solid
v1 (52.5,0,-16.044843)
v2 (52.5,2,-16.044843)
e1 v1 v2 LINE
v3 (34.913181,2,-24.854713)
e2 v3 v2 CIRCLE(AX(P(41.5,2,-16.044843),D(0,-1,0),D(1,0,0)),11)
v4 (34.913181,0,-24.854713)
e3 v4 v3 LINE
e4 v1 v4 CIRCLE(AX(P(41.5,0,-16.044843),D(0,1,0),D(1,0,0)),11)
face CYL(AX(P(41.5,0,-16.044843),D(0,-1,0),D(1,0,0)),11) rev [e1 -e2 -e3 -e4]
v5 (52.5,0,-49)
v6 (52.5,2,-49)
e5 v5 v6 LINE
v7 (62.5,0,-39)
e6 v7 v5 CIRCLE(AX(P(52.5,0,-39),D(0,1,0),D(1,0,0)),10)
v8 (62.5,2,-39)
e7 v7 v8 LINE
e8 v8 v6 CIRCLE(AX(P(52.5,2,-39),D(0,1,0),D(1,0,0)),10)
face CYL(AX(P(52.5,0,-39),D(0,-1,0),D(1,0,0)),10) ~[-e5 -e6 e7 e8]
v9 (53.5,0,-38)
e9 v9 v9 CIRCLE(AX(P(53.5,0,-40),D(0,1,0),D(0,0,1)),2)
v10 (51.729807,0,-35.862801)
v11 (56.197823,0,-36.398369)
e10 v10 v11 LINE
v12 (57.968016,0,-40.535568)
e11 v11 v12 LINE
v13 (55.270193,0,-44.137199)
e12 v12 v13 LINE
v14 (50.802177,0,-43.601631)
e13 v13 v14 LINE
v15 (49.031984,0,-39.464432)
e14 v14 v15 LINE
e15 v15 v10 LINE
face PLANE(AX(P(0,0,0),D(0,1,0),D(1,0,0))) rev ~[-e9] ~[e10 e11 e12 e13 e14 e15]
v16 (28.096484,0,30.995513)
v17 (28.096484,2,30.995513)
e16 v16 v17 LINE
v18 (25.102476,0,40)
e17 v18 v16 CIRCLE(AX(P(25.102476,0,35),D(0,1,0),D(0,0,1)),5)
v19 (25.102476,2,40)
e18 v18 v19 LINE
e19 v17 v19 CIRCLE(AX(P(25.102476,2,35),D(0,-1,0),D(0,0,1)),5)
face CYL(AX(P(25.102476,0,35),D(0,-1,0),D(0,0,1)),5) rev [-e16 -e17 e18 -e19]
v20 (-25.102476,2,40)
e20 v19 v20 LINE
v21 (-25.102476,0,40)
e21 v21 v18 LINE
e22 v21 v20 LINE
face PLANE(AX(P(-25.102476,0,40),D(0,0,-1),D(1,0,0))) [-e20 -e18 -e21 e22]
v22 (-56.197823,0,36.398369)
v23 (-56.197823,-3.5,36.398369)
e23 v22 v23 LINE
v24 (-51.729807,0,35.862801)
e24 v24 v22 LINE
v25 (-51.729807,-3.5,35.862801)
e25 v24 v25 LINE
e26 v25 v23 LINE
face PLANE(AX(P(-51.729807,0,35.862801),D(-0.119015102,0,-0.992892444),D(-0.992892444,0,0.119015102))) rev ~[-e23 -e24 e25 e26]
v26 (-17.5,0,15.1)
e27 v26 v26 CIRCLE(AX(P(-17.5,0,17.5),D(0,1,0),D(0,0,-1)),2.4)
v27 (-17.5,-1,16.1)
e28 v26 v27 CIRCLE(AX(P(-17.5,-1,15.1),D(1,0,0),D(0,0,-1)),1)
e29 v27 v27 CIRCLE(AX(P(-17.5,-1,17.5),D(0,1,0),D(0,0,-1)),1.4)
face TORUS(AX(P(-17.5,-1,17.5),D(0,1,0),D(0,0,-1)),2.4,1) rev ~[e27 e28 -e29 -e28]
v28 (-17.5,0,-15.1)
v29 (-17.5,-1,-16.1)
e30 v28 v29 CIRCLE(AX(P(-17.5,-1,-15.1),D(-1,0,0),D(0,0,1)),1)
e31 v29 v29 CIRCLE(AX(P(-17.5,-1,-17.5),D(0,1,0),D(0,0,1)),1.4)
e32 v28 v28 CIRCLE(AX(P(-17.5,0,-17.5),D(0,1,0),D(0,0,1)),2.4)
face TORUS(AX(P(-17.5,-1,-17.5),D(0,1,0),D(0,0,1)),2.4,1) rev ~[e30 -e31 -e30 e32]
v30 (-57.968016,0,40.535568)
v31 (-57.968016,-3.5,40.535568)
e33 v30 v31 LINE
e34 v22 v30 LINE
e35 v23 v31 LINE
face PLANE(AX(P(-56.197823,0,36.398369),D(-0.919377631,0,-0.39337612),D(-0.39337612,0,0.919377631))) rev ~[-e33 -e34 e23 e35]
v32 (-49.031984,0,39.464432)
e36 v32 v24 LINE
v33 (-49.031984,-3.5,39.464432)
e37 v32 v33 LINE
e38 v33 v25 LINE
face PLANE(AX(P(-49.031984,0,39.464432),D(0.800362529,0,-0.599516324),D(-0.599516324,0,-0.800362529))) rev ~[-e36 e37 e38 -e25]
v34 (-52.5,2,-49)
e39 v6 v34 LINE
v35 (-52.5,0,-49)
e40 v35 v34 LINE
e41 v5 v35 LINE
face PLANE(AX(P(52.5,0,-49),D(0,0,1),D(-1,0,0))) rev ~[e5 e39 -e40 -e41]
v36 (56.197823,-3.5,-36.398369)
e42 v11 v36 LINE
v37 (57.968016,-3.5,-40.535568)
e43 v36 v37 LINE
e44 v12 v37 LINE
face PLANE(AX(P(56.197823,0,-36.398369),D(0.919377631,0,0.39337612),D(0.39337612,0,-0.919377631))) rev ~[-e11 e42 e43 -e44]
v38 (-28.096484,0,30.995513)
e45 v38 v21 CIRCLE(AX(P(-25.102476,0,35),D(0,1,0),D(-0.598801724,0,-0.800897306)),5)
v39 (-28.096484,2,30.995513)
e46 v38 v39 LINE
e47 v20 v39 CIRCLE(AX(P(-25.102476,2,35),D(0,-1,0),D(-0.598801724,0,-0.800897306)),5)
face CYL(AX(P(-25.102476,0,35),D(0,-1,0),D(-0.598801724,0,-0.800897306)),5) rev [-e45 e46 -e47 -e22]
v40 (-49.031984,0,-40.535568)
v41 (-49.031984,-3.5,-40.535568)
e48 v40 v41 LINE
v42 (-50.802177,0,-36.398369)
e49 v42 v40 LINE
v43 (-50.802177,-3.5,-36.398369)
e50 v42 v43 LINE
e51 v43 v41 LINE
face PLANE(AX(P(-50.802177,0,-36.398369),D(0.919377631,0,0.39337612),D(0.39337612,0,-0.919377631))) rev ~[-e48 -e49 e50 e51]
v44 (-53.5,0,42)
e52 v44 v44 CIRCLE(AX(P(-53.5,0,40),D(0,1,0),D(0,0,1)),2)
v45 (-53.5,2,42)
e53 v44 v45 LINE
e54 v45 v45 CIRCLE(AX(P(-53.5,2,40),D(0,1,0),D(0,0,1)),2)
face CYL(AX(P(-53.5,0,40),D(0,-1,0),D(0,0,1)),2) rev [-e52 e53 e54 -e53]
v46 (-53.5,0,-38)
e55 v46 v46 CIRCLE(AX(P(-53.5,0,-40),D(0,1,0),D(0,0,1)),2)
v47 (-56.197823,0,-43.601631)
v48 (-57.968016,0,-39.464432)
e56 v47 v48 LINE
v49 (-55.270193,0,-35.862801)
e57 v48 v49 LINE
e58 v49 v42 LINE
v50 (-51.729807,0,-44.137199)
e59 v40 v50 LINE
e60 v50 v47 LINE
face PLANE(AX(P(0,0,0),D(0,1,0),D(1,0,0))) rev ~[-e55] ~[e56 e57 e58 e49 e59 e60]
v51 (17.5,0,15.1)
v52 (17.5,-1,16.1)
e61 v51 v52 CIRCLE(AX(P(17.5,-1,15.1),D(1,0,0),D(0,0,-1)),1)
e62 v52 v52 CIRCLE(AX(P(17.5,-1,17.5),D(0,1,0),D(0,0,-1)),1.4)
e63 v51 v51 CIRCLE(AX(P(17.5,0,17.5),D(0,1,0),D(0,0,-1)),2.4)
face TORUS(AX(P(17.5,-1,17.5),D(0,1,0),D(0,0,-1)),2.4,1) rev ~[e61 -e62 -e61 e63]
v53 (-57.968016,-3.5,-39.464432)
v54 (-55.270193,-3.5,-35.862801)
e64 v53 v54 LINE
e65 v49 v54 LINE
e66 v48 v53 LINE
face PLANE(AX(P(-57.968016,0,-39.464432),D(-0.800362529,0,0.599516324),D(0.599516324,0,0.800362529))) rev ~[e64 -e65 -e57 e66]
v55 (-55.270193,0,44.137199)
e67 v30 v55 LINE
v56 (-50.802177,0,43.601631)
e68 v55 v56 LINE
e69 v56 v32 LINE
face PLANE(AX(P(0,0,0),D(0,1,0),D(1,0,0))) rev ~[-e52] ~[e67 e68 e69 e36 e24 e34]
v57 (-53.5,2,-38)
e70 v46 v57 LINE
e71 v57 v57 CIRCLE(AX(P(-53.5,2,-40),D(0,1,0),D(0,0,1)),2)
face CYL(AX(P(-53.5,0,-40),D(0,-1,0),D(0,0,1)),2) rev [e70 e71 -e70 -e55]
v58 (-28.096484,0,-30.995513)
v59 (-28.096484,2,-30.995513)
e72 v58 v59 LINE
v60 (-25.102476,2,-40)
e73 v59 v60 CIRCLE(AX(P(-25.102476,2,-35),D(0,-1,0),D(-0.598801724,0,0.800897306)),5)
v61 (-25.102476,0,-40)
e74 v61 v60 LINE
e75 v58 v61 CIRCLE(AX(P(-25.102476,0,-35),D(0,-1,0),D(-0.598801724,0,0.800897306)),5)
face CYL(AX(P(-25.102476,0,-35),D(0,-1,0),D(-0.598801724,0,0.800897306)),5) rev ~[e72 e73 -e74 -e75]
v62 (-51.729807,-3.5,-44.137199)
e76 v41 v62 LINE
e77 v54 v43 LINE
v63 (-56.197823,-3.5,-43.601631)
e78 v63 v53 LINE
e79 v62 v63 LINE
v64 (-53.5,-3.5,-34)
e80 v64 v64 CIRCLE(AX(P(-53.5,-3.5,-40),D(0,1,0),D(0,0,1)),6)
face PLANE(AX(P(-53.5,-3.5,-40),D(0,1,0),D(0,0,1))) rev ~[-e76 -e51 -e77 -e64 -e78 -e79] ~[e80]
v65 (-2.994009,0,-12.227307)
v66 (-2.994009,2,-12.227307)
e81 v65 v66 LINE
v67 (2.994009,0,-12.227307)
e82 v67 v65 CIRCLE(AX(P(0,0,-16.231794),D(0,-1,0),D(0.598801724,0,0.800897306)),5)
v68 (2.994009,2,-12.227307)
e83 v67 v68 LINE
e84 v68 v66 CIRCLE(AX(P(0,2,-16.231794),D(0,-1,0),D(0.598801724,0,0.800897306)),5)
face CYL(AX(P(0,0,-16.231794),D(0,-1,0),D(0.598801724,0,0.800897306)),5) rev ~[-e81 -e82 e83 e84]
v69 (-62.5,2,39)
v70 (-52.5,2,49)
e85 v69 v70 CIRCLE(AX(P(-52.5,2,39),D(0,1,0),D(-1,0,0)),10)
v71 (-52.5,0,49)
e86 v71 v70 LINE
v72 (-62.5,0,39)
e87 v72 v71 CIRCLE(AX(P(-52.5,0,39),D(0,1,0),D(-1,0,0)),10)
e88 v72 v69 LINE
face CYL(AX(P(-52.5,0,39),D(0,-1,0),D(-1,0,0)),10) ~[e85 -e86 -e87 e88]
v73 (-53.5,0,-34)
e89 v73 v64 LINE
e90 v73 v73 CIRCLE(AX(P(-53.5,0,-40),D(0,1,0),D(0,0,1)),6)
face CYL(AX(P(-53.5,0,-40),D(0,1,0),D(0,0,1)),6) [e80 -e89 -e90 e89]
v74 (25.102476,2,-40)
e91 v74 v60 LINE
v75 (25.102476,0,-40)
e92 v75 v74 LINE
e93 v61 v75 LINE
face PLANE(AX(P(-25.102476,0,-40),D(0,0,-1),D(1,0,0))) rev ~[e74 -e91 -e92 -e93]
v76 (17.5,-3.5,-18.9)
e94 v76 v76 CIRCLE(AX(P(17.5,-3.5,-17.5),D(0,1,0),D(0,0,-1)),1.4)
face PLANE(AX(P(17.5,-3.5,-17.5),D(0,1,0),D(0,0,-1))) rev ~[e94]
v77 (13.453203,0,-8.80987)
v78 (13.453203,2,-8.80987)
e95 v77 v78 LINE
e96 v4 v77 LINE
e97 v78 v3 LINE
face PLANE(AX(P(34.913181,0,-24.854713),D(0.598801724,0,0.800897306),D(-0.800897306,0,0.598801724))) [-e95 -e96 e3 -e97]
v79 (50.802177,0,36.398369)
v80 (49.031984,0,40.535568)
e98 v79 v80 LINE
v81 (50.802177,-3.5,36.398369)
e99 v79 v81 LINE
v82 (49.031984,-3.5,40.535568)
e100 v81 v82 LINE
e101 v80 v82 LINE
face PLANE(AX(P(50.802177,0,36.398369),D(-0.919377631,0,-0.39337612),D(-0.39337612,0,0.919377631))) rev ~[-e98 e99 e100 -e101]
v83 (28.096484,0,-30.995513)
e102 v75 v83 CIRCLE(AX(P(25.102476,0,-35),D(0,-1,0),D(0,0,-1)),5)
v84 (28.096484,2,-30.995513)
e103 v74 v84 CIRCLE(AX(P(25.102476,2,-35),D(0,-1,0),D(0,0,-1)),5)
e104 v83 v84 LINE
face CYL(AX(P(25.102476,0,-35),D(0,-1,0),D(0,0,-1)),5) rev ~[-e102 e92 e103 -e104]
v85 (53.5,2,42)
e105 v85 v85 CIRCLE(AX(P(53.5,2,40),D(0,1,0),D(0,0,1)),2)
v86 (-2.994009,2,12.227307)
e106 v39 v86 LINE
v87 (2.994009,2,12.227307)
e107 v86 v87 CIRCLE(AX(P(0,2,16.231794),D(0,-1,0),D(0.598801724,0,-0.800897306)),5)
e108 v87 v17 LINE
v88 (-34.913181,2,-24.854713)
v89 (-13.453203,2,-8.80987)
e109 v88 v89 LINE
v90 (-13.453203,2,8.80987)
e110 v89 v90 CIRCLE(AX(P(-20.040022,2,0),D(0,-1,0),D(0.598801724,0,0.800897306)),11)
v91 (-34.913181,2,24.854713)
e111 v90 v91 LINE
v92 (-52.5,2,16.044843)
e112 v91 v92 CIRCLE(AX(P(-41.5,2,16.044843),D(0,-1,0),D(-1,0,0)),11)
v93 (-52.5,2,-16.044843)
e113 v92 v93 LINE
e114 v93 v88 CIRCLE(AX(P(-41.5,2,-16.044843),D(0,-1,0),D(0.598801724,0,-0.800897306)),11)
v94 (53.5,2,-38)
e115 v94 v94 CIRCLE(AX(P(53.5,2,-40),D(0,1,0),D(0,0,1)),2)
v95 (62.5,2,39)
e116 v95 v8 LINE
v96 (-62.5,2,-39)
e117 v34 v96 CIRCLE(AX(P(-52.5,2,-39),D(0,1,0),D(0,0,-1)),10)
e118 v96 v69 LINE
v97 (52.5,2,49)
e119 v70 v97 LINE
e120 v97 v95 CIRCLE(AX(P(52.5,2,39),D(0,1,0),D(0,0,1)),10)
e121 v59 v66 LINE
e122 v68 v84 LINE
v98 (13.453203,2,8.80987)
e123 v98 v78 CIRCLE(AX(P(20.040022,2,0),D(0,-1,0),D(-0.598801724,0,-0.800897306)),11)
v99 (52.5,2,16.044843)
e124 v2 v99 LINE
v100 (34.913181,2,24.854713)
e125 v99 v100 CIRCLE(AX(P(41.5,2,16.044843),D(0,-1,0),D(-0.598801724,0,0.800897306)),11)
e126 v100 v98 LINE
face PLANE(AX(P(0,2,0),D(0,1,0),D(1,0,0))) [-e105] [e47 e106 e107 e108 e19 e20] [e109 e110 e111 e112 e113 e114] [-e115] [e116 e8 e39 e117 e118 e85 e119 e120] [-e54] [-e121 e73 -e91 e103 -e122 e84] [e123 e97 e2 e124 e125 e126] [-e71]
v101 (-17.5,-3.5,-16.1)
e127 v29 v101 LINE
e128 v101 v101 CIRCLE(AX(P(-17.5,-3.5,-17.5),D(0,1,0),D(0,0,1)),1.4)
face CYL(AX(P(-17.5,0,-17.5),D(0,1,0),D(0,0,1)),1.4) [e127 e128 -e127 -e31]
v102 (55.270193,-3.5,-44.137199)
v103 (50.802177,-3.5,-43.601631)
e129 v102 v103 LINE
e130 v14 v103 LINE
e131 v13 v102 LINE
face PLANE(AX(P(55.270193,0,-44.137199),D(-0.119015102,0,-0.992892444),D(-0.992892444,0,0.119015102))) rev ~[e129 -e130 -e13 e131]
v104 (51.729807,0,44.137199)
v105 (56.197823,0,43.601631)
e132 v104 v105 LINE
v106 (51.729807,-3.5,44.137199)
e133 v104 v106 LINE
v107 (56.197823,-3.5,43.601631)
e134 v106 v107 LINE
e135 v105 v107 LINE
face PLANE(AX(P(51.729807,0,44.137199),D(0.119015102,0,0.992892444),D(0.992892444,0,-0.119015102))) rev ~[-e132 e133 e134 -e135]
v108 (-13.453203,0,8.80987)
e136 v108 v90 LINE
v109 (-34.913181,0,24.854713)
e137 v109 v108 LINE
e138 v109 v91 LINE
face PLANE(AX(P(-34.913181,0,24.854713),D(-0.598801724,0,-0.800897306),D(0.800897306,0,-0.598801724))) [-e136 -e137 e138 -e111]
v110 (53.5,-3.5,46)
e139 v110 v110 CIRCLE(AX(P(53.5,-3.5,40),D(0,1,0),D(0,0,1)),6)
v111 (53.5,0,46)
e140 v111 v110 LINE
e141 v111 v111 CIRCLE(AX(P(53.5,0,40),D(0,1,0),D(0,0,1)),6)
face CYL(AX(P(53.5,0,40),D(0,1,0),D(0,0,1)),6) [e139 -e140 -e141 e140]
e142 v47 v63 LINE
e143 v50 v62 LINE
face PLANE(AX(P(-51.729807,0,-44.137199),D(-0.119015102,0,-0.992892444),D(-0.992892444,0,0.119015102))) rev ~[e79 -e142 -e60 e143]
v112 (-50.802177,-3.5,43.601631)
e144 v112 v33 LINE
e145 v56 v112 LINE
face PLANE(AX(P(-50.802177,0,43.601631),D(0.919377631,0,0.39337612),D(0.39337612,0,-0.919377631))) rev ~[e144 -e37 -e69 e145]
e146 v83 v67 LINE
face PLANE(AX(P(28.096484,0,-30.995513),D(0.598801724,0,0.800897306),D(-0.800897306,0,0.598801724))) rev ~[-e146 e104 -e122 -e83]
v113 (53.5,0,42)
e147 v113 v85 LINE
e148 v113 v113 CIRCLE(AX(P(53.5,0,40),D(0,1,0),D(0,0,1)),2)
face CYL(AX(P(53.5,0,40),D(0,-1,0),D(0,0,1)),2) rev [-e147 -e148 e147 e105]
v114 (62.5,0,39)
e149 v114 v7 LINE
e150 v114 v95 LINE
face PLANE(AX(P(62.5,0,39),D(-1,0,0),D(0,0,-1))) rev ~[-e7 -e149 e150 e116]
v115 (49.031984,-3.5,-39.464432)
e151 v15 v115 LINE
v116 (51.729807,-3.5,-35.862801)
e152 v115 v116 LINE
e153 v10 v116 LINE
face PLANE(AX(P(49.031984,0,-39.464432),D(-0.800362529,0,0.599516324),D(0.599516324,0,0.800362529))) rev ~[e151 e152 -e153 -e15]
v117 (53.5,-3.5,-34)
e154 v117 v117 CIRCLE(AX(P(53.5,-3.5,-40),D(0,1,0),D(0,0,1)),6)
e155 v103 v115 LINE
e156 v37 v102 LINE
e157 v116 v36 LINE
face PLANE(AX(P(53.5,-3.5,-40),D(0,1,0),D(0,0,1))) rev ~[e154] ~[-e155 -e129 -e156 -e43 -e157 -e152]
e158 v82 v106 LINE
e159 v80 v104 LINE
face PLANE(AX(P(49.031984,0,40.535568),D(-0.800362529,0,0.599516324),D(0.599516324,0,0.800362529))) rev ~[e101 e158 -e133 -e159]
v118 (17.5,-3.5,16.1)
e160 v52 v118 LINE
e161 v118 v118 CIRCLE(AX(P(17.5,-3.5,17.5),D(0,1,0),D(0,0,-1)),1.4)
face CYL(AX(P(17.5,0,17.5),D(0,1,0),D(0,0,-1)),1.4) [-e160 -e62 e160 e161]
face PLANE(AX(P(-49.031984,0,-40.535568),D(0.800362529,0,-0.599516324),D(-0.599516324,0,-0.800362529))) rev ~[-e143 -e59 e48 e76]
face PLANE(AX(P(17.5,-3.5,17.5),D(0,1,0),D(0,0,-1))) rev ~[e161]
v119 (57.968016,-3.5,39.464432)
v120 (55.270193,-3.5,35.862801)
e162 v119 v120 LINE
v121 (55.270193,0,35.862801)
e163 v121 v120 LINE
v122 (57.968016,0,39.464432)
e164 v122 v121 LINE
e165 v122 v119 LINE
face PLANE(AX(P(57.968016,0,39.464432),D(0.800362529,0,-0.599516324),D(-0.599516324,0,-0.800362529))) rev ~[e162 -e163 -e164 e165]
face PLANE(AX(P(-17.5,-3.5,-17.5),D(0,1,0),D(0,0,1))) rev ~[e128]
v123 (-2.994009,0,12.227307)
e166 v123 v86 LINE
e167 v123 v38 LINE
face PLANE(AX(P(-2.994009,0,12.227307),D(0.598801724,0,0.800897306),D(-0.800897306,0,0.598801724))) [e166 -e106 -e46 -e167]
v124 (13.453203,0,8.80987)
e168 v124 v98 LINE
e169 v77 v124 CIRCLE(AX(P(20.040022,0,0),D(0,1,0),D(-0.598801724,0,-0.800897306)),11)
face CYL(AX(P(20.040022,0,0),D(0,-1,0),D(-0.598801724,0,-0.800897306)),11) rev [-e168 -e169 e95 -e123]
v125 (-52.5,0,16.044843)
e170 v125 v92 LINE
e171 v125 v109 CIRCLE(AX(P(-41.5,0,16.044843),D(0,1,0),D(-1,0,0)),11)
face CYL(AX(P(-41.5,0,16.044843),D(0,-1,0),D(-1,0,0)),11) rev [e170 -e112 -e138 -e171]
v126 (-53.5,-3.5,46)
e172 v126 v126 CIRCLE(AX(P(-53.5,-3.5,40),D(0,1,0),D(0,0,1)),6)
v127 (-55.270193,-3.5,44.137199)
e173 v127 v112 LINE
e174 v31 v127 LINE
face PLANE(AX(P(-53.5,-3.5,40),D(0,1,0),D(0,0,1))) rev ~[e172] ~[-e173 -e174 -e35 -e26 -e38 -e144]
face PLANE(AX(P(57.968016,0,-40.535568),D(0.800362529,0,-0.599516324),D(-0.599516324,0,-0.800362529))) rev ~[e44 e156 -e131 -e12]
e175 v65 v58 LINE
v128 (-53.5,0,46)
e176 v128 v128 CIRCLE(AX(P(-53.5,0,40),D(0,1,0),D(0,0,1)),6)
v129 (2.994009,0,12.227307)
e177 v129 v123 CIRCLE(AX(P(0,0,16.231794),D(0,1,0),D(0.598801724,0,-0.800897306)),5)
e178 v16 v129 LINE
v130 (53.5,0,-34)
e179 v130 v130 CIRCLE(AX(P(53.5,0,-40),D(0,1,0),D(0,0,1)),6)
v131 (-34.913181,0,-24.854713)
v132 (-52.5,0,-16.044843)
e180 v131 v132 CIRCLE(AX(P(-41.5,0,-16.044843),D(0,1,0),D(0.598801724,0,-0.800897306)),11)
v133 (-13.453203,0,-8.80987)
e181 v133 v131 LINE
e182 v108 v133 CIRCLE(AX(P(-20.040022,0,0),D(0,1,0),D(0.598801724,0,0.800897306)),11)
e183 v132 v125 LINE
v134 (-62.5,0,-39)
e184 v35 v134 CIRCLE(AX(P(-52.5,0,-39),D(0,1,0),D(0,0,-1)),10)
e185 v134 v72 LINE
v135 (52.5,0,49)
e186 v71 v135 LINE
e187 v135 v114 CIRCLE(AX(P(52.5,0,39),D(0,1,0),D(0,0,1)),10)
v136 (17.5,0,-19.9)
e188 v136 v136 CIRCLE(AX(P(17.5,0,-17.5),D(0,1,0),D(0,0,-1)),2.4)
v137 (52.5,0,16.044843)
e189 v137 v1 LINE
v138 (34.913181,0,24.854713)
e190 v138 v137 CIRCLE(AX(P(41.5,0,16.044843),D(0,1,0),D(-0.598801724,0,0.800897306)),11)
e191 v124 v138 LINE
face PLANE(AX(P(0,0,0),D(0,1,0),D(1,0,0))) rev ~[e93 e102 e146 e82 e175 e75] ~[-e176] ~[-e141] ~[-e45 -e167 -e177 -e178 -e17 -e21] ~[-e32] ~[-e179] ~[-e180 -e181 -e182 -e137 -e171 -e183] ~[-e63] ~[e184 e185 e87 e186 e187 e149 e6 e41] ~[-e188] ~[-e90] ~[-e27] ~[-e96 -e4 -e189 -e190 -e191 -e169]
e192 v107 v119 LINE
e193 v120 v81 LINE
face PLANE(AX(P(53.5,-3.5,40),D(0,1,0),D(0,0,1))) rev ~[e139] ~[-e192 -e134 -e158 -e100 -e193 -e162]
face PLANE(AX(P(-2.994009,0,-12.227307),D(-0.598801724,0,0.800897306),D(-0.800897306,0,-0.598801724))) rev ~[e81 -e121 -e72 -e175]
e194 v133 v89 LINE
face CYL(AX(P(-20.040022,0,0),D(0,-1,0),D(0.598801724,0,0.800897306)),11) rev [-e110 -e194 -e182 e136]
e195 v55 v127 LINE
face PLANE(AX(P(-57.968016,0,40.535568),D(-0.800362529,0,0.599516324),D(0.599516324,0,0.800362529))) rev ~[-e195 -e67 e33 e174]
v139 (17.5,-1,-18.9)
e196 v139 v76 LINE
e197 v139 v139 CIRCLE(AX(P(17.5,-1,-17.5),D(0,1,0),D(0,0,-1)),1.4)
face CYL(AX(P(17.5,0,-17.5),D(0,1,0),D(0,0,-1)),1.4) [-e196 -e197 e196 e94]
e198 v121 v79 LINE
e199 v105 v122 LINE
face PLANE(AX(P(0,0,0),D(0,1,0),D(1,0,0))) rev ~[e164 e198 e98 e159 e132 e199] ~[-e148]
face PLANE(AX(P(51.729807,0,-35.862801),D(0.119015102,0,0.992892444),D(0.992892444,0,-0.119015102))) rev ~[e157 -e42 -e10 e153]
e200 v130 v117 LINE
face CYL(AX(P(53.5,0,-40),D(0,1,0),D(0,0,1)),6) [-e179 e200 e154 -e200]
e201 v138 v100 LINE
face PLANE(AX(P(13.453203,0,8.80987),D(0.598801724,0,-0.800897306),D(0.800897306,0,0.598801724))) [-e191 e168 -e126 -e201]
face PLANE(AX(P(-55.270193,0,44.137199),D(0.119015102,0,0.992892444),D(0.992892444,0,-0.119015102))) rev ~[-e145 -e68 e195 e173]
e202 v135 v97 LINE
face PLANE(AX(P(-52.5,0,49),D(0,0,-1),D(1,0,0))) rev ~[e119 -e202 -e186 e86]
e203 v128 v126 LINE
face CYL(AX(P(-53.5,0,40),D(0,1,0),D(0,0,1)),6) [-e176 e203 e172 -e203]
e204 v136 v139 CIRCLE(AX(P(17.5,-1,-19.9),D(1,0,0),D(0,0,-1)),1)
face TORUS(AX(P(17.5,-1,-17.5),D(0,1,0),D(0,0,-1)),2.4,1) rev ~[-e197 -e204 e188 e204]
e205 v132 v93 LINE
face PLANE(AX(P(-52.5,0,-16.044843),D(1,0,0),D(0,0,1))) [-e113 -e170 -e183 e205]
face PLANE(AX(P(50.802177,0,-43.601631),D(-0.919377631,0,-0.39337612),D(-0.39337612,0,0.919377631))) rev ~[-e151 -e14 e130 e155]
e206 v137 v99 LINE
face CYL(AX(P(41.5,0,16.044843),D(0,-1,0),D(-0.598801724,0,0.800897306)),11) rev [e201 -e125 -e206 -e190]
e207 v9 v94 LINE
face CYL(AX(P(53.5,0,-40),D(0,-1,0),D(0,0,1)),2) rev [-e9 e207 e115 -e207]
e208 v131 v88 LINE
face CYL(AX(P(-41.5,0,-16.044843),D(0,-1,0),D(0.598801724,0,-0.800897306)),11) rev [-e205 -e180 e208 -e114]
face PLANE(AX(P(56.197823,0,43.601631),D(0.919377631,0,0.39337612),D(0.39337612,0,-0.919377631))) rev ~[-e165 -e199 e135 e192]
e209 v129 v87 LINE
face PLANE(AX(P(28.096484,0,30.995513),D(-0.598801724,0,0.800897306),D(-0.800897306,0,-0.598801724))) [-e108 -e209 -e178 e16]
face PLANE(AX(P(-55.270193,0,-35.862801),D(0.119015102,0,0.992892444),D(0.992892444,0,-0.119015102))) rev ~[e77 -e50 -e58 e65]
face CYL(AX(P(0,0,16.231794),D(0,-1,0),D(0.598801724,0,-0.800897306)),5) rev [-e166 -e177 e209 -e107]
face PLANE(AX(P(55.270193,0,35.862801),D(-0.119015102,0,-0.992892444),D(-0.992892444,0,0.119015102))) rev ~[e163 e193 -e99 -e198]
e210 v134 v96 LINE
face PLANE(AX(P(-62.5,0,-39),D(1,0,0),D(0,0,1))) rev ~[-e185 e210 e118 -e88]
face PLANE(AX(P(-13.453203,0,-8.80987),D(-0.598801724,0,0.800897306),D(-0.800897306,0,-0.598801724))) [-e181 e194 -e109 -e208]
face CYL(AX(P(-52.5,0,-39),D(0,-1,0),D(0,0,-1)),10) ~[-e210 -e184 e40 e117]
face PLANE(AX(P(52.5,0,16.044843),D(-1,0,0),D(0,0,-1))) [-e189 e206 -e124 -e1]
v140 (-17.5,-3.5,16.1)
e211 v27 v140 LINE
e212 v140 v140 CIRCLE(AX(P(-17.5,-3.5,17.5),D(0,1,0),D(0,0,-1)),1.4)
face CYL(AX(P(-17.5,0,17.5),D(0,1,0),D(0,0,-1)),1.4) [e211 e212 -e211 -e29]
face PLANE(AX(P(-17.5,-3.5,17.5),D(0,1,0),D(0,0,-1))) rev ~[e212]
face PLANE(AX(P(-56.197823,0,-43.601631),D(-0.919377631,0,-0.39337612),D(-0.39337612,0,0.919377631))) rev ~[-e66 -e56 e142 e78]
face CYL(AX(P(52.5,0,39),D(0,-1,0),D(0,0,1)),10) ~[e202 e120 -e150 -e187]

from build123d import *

# Parameters (mm, degrees)
SKETCH1_R           = 6
SKETCH1_R_2         = 2
BOSS_EXTRUDE1_DEPTH = 2
SKETCH1_3_R         = 6
BOSS_EXTRUDE2_DEPTH = 3.5
CUT_EXTRUDE2_DEPTH  = 10
SKETCH2_R           = 1.4
BOSS_EXTRUDE4_DEPTH = 3.5
FILLET3_R           = 1


with BuildPart() as part:
    # Sketch1 → Boss-Extrude1 (new body)
    # profile 1 of 9: a face of its own
    with BuildSketch(Plane(origin=(0, 0, 0), x_dir=(1, 0, 0), z_dir=(0, 1, 0))):
        with BuildLine():
            ThreePointArc((-62.5, 39), (-59.571067812, 46.071067812), (-52.5, 49))
            Line((-52.5, 49), (52.5, 49))
            ThreePointArc((52.5, 49), (59.571067812, 46.071067812), (62.5, 39))
            Line((62.5, 39), (62.5, -39))
            ThreePointArc((62.5, -39), (59.571067812, -46.071067812), (52.5, -49))
            Line((52.5, -49), (-52.5, -49))
            ThreePointArc((-52.5, -49), (-59.571067812, -46.071067812), (-62.5, -39))
            Line((-62.5, -39), (-62.5, 39))
        make_face()
        with Locations((-53.5, -40)):
            Circle(SKETCH1_R, mode=Mode.SUBTRACT)
        with Locations((53.5, -40)):
            Circle(SKETCH1_R, mode=Mode.SUBTRACT)
        with Locations((-53.5, 40)):
            Circle(SKETCH1_R, mode=Mode.SUBTRACT)
        with Locations((53.5, 40)):
            Circle(SKETCH1_R, mode=Mode.SUBTRACT)
    # profile 2 of 9: a face of its own
    with BuildSketch(Plane(origin=(0, 0, 0), x_dir=(1, 0, 0), z_dir=(0, 1, 0))):
        with Locations((53.5, 40)):
            Circle(SKETCH1_R)
        Polygon((56.197823457, 36.398368621), (57.968015998, 40.535567959), (55.270192541, 44.137199339), (50.802176543, 43.601631379), (49.031984002, 39.464432041), (51.729807459, 35.862800661), align=None, mode=Mode.SUBTRACT)
    # profile 3 of 9: a face of its own
    with BuildSketch(Plane(origin=(0, 0, 0), x_dir=(1, 0, 0), z_dir=(0, 1, 0))):
        Polygon((51.729807459, 35.862800661), (56.197823457, 36.398368621), (57.968015998, 40.535567959), (55.270192541, 44.137199339), (50.802176543, 43.601631379), (49.031984002, 39.464432041), align=None)
        with Locations((53.5, 40)):
            Circle(SKETCH1_R_2, mode=Mode.SUBTRACT)
    # profile 4 of 9: a face of its own
    with BuildSketch(Plane(origin=(0, 0, 0), x_dir=(1, 0, 0), z_dir=(0, 1, 0))):
        with Locations((53.5, -40)):
            Circle(SKETCH1_R)
        Polygon((56.197823457, -43.601631379), (57.968015998, -39.464432041), (55.270192541, -35.862800661), (50.802176543, -36.398368621), (49.031984002, -40.535567959), (51.729807459, -44.137199339), align=None, mode=Mode.SUBTRACT)
    # profile 5 of 9: a face of its own
    with BuildSketch(Plane(origin=(0, 0, 0), x_dir=(1, 0, 0), z_dir=(0, 1, 0))):
        Polygon((51.729807459, -44.137199339), (56.197823457, -43.601631379), (57.968015998, -39.464432041), (55.270192541, -35.862800661), (50.802176543, -36.398368621), (49.031984002, -40.535567959), align=None)
        with Locations((53.5, -40)):
            Circle(SKETCH1_R_2, mode=Mode.SUBTRACT)
    # profile 6 of 9: a face of its own
    with BuildSketch(Plane(origin=(0, 0, 0), x_dir=(1, 0, 0), z_dir=(0, 1, 0))):
        with Locations((-53.5, -40)):
            Circle(SKETCH1_R)
        Polygon((-50.802176543, -43.601631379), (-49.031984002, -39.464432041), (-51.729807459, -35.862800661), (-56.197823457, -36.398368621), (-57.968015998, -40.535567959), (-55.270192541, -44.137199339), align=None, mode=Mode.SUBTRACT)
    # profile 7 of 9: a face of its own
    with BuildSketch(Plane(origin=(0, 0, 0), x_dir=(1, 0, 0), z_dir=(0, 1, 0))):
        Polygon((-55.270192541, -44.137199339), (-50.802176543, -43.601631379), (-49.031984002, -39.464432041), (-51.729807459, -35.862800661), (-56.197823457, -36.398368621), (-57.968015998, -40.535567959), align=None)
        with Locations((-53.5, -40)):
            Circle(SKETCH1_R_2, mode=Mode.SUBTRACT)
    # profile 8 of 9: a face of its own
    with BuildSketch(Plane(origin=(0, 0, 0), x_dir=(1, 0, 0), z_dir=(0, 1, 0))):
        with Locations((-53.5, 40)):
            Circle(SKETCH1_R)
        Polygon((-50.802176543, 36.398368621), (-49.031984002, 40.535567959), (-51.729807459, 44.137199339), (-56.197823457, 43.601631379), (-57.968015998, 39.464432041), (-55.270192541, 35.862800661), align=None, mode=Mode.SUBTRACT)
    # profile 9 of 9: a face of its own
    with BuildSketch(Plane(origin=(0, 0, 0), x_dir=(1, 0, 0), z_dir=(0, 1, 0))):
        Polygon((-55.270192541, 35.862800661), (-50.802176543, 36.398368621), (-49.031984002, 40.535567959), (-51.729807459, 44.137199339), (-56.197823457, 43.601631379), (-57.968015998, 39.464432041), align=None)
        with Locations((-53.5, 40)):
            Circle(SKETCH1_R_2, mode=Mode.SUBTRACT)
    extrude(amount=BOSS_EXTRUDE1_DEPTH)

    # Sketch1<3> → Boss-Extrude2 (add)
    # profile 1 of 4: a face of its own
    with BuildSketch(Plane(origin=(0, 0, 0), x_dir=(1, 0, 0), z_dir=(0, 1, 0))):
        with Locations((-53.5, 40)):
            Circle(SKETCH1_3_R)
        Polygon((-50.802176543, 36.398368621), (-49.031984002, 40.535567959), (-51.729807459, 44.137199339), (-56.197823457, 43.601631379), (-57.968015998, 39.464432041), (-55.270192541, 35.862800661), align=None, mode=Mode.SUBTRACT)
    # profile 2 of 4: a face of its own
    with BuildSketch(Plane(origin=(0, 0, 0), x_dir=(1, 0, 0), z_dir=(0, 1, 0))):
        with Locations((53.5, 40)):
            Circle(SKETCH1_3_R)
        Polygon((56.197823457, 36.398368621), (57.968015998, 40.535567959), (55.270192541, 44.137199339), (50.802176543, 43.601631379), (49.031984002, 39.464432041), (51.729807459, 35.862800661), align=None, mode=Mode.SUBTRACT)
    # profile 3 of 4: a face of its own
    with BuildSketch(Plane(origin=(0, 0, 0), x_dir=(1, 0, 0), z_dir=(0, 1, 0))):
        with Locations((53.5, -40)):
            Circle(SKETCH1_3_R)
        Polygon((56.197823457, -43.601631379), (57.968015998, -39.464432041), (55.270192541, -35.862800661), (50.802176543, -36.398368621), (49.031984002, -40.535567959), (51.729807459, -44.137199339), align=None, mode=Mode.SUBTRACT)
    # profile 4 of 4: a face of its own
    with BuildSketch(Plane(origin=(0, 0, 0), x_dir=(1, 0, 0), z_dir=(0, 1, 0))):
        with Locations((-53.5, -40)):
            Circle(SKETCH1_3_R)
        Polygon((-50.802176543, -43.601631379), (-49.031984002, -39.464432041), (-51.729807459, -35.862800661), (-56.197823457, -36.398368621), (-57.968015998, -40.535567959), (-55.270192541, -44.137199339), align=None, mode=Mode.SUBTRACT)
    extrude(amount=-BOSS_EXTRUDE2_DEPTH)

    # Sketch2<4> → Cut-Extrude2 (cut)
    with BuildSketch(Plane(origin=(0, 0, 0), x_dir=(1, 0, 0), z_dir=(0, 1, 0))):
        with BuildLine():
            ThreePointArc((13.453203488, 8.809870368), (9.040022455, 0), (13.453203488, -8.809870368))
            Line((13.453203488, -8.809870368), (34.913181033, -24.854713392))
            ThreePointArc((34.913181033, -24.854713392), (46.426712462, -25.879857224), (52.5, -16.044843024))
            Line((52.5, -16.044843024), (52.5, 16.044843024))
            ThreePointArc((52.5, 16.044843024), (46.426712462, 25.879857224), (34.913181033, 24.854713392))
            Line((34.913181033, 24.854713392), (13.453203488, 8.809870368))
        make_face()
        with BuildLine():
            ThreePointArc((-13.453203488, -8.809870368), (-9.040022455, 0), (-13.453203488, 8.809870368))
            Line((-13.453203488, 8.809870368), (-34.913181033, 24.854713392))
            ThreePointArc((-34.913181033, 24.854713392), (-46.426712462, 25.879857224), (-52.5, 16.044843024))
            Line((-52.5, 16.044843024), (-52.5, -16.044843024))
            ThreePointArc((-52.5, -16.044843024), (-46.426712462, -25.879857224), (-34.913181033, -24.854713392))
            Line((-34.913181033, -24.854713392), (-13.453203488, -8.809870368))
        make_face()
        with BuildLine():
            Line((-28.096484295, 30.995513469), (-2.994008621, 12.227307358))
            ThreePointArc((-2.994008621, 12.227307358), (0, 11.231793889), (2.994008621, 12.227307358))
            Line((2.994008621, 12.227307358), (28.096484295, 30.995513469))
            ThreePointArc((28.096484295, 30.995513469), (29.847074321, 36.577587929), (25.102475674, 40))
            Line((25.102475674, 40), (-25.102475674, 40))
            ThreePointArc((-25.102475674, 40), (-29.847074321, 36.577587929), (-28.096484295, 30.995513469))
        make_face()
        with BuildLine():
            Line((28.096484295, -30.995513469), (2.994008621, -12.227307358))
            ThreePointArc((2.994008621, -12.227307358), (0, -11.231793889), (-2.994008621, -12.227307358))
            Line((-2.994008621, -12.227307358), (-28.096484295, -30.995513469))
            ThreePointArc((-28.096484295, -30.995513469), (-29.847074321, -36.577587929), (-25.102475674, -40))
            Line((-25.102475674, -40), (25.102475674, -40))
            ThreePointArc((25.102475674, -40), (29.847074321, -36.577587929), (28.096484295, -30.995513469))
        make_face()
    extrude(amount=CUT_EXTRUDE2_DEPTH, mode=Mode.SUBTRACT)

    # Sketch2 → Boss-Extrude4 (add)
    with BuildSketch(Plane(origin=(0, 0, 0), x_dir=(1, 0, 0), z_dir=(0, 1, 0))):
        with Locations((17.5, 17.5)):
            Circle(SKETCH2_R)
        with Locations((17.5, -17.5)):
            Circle(SKETCH2_R)
        with Locations((-17.5, -17.5)):
            Circle(SKETCH2_R)
        with Locations((-17.5, 17.5)):
            Circle(SKETCH2_R)
    extrude(amount=-BOSS_EXTRUDE4_DEPTH)

    # Fillet3
    fillet3_edges = [part.edges().sort_by_distance(p)[0] for p in [
        (16.1, 0, -17.5),
        (16.1, 0, 17.5),
        (-18.9, 0, 17.5),
        (-18.9, 0, -17.5),
    ]]
    fillet(fillet3_edges, radius=FILLET3_R)


solid = part.part
